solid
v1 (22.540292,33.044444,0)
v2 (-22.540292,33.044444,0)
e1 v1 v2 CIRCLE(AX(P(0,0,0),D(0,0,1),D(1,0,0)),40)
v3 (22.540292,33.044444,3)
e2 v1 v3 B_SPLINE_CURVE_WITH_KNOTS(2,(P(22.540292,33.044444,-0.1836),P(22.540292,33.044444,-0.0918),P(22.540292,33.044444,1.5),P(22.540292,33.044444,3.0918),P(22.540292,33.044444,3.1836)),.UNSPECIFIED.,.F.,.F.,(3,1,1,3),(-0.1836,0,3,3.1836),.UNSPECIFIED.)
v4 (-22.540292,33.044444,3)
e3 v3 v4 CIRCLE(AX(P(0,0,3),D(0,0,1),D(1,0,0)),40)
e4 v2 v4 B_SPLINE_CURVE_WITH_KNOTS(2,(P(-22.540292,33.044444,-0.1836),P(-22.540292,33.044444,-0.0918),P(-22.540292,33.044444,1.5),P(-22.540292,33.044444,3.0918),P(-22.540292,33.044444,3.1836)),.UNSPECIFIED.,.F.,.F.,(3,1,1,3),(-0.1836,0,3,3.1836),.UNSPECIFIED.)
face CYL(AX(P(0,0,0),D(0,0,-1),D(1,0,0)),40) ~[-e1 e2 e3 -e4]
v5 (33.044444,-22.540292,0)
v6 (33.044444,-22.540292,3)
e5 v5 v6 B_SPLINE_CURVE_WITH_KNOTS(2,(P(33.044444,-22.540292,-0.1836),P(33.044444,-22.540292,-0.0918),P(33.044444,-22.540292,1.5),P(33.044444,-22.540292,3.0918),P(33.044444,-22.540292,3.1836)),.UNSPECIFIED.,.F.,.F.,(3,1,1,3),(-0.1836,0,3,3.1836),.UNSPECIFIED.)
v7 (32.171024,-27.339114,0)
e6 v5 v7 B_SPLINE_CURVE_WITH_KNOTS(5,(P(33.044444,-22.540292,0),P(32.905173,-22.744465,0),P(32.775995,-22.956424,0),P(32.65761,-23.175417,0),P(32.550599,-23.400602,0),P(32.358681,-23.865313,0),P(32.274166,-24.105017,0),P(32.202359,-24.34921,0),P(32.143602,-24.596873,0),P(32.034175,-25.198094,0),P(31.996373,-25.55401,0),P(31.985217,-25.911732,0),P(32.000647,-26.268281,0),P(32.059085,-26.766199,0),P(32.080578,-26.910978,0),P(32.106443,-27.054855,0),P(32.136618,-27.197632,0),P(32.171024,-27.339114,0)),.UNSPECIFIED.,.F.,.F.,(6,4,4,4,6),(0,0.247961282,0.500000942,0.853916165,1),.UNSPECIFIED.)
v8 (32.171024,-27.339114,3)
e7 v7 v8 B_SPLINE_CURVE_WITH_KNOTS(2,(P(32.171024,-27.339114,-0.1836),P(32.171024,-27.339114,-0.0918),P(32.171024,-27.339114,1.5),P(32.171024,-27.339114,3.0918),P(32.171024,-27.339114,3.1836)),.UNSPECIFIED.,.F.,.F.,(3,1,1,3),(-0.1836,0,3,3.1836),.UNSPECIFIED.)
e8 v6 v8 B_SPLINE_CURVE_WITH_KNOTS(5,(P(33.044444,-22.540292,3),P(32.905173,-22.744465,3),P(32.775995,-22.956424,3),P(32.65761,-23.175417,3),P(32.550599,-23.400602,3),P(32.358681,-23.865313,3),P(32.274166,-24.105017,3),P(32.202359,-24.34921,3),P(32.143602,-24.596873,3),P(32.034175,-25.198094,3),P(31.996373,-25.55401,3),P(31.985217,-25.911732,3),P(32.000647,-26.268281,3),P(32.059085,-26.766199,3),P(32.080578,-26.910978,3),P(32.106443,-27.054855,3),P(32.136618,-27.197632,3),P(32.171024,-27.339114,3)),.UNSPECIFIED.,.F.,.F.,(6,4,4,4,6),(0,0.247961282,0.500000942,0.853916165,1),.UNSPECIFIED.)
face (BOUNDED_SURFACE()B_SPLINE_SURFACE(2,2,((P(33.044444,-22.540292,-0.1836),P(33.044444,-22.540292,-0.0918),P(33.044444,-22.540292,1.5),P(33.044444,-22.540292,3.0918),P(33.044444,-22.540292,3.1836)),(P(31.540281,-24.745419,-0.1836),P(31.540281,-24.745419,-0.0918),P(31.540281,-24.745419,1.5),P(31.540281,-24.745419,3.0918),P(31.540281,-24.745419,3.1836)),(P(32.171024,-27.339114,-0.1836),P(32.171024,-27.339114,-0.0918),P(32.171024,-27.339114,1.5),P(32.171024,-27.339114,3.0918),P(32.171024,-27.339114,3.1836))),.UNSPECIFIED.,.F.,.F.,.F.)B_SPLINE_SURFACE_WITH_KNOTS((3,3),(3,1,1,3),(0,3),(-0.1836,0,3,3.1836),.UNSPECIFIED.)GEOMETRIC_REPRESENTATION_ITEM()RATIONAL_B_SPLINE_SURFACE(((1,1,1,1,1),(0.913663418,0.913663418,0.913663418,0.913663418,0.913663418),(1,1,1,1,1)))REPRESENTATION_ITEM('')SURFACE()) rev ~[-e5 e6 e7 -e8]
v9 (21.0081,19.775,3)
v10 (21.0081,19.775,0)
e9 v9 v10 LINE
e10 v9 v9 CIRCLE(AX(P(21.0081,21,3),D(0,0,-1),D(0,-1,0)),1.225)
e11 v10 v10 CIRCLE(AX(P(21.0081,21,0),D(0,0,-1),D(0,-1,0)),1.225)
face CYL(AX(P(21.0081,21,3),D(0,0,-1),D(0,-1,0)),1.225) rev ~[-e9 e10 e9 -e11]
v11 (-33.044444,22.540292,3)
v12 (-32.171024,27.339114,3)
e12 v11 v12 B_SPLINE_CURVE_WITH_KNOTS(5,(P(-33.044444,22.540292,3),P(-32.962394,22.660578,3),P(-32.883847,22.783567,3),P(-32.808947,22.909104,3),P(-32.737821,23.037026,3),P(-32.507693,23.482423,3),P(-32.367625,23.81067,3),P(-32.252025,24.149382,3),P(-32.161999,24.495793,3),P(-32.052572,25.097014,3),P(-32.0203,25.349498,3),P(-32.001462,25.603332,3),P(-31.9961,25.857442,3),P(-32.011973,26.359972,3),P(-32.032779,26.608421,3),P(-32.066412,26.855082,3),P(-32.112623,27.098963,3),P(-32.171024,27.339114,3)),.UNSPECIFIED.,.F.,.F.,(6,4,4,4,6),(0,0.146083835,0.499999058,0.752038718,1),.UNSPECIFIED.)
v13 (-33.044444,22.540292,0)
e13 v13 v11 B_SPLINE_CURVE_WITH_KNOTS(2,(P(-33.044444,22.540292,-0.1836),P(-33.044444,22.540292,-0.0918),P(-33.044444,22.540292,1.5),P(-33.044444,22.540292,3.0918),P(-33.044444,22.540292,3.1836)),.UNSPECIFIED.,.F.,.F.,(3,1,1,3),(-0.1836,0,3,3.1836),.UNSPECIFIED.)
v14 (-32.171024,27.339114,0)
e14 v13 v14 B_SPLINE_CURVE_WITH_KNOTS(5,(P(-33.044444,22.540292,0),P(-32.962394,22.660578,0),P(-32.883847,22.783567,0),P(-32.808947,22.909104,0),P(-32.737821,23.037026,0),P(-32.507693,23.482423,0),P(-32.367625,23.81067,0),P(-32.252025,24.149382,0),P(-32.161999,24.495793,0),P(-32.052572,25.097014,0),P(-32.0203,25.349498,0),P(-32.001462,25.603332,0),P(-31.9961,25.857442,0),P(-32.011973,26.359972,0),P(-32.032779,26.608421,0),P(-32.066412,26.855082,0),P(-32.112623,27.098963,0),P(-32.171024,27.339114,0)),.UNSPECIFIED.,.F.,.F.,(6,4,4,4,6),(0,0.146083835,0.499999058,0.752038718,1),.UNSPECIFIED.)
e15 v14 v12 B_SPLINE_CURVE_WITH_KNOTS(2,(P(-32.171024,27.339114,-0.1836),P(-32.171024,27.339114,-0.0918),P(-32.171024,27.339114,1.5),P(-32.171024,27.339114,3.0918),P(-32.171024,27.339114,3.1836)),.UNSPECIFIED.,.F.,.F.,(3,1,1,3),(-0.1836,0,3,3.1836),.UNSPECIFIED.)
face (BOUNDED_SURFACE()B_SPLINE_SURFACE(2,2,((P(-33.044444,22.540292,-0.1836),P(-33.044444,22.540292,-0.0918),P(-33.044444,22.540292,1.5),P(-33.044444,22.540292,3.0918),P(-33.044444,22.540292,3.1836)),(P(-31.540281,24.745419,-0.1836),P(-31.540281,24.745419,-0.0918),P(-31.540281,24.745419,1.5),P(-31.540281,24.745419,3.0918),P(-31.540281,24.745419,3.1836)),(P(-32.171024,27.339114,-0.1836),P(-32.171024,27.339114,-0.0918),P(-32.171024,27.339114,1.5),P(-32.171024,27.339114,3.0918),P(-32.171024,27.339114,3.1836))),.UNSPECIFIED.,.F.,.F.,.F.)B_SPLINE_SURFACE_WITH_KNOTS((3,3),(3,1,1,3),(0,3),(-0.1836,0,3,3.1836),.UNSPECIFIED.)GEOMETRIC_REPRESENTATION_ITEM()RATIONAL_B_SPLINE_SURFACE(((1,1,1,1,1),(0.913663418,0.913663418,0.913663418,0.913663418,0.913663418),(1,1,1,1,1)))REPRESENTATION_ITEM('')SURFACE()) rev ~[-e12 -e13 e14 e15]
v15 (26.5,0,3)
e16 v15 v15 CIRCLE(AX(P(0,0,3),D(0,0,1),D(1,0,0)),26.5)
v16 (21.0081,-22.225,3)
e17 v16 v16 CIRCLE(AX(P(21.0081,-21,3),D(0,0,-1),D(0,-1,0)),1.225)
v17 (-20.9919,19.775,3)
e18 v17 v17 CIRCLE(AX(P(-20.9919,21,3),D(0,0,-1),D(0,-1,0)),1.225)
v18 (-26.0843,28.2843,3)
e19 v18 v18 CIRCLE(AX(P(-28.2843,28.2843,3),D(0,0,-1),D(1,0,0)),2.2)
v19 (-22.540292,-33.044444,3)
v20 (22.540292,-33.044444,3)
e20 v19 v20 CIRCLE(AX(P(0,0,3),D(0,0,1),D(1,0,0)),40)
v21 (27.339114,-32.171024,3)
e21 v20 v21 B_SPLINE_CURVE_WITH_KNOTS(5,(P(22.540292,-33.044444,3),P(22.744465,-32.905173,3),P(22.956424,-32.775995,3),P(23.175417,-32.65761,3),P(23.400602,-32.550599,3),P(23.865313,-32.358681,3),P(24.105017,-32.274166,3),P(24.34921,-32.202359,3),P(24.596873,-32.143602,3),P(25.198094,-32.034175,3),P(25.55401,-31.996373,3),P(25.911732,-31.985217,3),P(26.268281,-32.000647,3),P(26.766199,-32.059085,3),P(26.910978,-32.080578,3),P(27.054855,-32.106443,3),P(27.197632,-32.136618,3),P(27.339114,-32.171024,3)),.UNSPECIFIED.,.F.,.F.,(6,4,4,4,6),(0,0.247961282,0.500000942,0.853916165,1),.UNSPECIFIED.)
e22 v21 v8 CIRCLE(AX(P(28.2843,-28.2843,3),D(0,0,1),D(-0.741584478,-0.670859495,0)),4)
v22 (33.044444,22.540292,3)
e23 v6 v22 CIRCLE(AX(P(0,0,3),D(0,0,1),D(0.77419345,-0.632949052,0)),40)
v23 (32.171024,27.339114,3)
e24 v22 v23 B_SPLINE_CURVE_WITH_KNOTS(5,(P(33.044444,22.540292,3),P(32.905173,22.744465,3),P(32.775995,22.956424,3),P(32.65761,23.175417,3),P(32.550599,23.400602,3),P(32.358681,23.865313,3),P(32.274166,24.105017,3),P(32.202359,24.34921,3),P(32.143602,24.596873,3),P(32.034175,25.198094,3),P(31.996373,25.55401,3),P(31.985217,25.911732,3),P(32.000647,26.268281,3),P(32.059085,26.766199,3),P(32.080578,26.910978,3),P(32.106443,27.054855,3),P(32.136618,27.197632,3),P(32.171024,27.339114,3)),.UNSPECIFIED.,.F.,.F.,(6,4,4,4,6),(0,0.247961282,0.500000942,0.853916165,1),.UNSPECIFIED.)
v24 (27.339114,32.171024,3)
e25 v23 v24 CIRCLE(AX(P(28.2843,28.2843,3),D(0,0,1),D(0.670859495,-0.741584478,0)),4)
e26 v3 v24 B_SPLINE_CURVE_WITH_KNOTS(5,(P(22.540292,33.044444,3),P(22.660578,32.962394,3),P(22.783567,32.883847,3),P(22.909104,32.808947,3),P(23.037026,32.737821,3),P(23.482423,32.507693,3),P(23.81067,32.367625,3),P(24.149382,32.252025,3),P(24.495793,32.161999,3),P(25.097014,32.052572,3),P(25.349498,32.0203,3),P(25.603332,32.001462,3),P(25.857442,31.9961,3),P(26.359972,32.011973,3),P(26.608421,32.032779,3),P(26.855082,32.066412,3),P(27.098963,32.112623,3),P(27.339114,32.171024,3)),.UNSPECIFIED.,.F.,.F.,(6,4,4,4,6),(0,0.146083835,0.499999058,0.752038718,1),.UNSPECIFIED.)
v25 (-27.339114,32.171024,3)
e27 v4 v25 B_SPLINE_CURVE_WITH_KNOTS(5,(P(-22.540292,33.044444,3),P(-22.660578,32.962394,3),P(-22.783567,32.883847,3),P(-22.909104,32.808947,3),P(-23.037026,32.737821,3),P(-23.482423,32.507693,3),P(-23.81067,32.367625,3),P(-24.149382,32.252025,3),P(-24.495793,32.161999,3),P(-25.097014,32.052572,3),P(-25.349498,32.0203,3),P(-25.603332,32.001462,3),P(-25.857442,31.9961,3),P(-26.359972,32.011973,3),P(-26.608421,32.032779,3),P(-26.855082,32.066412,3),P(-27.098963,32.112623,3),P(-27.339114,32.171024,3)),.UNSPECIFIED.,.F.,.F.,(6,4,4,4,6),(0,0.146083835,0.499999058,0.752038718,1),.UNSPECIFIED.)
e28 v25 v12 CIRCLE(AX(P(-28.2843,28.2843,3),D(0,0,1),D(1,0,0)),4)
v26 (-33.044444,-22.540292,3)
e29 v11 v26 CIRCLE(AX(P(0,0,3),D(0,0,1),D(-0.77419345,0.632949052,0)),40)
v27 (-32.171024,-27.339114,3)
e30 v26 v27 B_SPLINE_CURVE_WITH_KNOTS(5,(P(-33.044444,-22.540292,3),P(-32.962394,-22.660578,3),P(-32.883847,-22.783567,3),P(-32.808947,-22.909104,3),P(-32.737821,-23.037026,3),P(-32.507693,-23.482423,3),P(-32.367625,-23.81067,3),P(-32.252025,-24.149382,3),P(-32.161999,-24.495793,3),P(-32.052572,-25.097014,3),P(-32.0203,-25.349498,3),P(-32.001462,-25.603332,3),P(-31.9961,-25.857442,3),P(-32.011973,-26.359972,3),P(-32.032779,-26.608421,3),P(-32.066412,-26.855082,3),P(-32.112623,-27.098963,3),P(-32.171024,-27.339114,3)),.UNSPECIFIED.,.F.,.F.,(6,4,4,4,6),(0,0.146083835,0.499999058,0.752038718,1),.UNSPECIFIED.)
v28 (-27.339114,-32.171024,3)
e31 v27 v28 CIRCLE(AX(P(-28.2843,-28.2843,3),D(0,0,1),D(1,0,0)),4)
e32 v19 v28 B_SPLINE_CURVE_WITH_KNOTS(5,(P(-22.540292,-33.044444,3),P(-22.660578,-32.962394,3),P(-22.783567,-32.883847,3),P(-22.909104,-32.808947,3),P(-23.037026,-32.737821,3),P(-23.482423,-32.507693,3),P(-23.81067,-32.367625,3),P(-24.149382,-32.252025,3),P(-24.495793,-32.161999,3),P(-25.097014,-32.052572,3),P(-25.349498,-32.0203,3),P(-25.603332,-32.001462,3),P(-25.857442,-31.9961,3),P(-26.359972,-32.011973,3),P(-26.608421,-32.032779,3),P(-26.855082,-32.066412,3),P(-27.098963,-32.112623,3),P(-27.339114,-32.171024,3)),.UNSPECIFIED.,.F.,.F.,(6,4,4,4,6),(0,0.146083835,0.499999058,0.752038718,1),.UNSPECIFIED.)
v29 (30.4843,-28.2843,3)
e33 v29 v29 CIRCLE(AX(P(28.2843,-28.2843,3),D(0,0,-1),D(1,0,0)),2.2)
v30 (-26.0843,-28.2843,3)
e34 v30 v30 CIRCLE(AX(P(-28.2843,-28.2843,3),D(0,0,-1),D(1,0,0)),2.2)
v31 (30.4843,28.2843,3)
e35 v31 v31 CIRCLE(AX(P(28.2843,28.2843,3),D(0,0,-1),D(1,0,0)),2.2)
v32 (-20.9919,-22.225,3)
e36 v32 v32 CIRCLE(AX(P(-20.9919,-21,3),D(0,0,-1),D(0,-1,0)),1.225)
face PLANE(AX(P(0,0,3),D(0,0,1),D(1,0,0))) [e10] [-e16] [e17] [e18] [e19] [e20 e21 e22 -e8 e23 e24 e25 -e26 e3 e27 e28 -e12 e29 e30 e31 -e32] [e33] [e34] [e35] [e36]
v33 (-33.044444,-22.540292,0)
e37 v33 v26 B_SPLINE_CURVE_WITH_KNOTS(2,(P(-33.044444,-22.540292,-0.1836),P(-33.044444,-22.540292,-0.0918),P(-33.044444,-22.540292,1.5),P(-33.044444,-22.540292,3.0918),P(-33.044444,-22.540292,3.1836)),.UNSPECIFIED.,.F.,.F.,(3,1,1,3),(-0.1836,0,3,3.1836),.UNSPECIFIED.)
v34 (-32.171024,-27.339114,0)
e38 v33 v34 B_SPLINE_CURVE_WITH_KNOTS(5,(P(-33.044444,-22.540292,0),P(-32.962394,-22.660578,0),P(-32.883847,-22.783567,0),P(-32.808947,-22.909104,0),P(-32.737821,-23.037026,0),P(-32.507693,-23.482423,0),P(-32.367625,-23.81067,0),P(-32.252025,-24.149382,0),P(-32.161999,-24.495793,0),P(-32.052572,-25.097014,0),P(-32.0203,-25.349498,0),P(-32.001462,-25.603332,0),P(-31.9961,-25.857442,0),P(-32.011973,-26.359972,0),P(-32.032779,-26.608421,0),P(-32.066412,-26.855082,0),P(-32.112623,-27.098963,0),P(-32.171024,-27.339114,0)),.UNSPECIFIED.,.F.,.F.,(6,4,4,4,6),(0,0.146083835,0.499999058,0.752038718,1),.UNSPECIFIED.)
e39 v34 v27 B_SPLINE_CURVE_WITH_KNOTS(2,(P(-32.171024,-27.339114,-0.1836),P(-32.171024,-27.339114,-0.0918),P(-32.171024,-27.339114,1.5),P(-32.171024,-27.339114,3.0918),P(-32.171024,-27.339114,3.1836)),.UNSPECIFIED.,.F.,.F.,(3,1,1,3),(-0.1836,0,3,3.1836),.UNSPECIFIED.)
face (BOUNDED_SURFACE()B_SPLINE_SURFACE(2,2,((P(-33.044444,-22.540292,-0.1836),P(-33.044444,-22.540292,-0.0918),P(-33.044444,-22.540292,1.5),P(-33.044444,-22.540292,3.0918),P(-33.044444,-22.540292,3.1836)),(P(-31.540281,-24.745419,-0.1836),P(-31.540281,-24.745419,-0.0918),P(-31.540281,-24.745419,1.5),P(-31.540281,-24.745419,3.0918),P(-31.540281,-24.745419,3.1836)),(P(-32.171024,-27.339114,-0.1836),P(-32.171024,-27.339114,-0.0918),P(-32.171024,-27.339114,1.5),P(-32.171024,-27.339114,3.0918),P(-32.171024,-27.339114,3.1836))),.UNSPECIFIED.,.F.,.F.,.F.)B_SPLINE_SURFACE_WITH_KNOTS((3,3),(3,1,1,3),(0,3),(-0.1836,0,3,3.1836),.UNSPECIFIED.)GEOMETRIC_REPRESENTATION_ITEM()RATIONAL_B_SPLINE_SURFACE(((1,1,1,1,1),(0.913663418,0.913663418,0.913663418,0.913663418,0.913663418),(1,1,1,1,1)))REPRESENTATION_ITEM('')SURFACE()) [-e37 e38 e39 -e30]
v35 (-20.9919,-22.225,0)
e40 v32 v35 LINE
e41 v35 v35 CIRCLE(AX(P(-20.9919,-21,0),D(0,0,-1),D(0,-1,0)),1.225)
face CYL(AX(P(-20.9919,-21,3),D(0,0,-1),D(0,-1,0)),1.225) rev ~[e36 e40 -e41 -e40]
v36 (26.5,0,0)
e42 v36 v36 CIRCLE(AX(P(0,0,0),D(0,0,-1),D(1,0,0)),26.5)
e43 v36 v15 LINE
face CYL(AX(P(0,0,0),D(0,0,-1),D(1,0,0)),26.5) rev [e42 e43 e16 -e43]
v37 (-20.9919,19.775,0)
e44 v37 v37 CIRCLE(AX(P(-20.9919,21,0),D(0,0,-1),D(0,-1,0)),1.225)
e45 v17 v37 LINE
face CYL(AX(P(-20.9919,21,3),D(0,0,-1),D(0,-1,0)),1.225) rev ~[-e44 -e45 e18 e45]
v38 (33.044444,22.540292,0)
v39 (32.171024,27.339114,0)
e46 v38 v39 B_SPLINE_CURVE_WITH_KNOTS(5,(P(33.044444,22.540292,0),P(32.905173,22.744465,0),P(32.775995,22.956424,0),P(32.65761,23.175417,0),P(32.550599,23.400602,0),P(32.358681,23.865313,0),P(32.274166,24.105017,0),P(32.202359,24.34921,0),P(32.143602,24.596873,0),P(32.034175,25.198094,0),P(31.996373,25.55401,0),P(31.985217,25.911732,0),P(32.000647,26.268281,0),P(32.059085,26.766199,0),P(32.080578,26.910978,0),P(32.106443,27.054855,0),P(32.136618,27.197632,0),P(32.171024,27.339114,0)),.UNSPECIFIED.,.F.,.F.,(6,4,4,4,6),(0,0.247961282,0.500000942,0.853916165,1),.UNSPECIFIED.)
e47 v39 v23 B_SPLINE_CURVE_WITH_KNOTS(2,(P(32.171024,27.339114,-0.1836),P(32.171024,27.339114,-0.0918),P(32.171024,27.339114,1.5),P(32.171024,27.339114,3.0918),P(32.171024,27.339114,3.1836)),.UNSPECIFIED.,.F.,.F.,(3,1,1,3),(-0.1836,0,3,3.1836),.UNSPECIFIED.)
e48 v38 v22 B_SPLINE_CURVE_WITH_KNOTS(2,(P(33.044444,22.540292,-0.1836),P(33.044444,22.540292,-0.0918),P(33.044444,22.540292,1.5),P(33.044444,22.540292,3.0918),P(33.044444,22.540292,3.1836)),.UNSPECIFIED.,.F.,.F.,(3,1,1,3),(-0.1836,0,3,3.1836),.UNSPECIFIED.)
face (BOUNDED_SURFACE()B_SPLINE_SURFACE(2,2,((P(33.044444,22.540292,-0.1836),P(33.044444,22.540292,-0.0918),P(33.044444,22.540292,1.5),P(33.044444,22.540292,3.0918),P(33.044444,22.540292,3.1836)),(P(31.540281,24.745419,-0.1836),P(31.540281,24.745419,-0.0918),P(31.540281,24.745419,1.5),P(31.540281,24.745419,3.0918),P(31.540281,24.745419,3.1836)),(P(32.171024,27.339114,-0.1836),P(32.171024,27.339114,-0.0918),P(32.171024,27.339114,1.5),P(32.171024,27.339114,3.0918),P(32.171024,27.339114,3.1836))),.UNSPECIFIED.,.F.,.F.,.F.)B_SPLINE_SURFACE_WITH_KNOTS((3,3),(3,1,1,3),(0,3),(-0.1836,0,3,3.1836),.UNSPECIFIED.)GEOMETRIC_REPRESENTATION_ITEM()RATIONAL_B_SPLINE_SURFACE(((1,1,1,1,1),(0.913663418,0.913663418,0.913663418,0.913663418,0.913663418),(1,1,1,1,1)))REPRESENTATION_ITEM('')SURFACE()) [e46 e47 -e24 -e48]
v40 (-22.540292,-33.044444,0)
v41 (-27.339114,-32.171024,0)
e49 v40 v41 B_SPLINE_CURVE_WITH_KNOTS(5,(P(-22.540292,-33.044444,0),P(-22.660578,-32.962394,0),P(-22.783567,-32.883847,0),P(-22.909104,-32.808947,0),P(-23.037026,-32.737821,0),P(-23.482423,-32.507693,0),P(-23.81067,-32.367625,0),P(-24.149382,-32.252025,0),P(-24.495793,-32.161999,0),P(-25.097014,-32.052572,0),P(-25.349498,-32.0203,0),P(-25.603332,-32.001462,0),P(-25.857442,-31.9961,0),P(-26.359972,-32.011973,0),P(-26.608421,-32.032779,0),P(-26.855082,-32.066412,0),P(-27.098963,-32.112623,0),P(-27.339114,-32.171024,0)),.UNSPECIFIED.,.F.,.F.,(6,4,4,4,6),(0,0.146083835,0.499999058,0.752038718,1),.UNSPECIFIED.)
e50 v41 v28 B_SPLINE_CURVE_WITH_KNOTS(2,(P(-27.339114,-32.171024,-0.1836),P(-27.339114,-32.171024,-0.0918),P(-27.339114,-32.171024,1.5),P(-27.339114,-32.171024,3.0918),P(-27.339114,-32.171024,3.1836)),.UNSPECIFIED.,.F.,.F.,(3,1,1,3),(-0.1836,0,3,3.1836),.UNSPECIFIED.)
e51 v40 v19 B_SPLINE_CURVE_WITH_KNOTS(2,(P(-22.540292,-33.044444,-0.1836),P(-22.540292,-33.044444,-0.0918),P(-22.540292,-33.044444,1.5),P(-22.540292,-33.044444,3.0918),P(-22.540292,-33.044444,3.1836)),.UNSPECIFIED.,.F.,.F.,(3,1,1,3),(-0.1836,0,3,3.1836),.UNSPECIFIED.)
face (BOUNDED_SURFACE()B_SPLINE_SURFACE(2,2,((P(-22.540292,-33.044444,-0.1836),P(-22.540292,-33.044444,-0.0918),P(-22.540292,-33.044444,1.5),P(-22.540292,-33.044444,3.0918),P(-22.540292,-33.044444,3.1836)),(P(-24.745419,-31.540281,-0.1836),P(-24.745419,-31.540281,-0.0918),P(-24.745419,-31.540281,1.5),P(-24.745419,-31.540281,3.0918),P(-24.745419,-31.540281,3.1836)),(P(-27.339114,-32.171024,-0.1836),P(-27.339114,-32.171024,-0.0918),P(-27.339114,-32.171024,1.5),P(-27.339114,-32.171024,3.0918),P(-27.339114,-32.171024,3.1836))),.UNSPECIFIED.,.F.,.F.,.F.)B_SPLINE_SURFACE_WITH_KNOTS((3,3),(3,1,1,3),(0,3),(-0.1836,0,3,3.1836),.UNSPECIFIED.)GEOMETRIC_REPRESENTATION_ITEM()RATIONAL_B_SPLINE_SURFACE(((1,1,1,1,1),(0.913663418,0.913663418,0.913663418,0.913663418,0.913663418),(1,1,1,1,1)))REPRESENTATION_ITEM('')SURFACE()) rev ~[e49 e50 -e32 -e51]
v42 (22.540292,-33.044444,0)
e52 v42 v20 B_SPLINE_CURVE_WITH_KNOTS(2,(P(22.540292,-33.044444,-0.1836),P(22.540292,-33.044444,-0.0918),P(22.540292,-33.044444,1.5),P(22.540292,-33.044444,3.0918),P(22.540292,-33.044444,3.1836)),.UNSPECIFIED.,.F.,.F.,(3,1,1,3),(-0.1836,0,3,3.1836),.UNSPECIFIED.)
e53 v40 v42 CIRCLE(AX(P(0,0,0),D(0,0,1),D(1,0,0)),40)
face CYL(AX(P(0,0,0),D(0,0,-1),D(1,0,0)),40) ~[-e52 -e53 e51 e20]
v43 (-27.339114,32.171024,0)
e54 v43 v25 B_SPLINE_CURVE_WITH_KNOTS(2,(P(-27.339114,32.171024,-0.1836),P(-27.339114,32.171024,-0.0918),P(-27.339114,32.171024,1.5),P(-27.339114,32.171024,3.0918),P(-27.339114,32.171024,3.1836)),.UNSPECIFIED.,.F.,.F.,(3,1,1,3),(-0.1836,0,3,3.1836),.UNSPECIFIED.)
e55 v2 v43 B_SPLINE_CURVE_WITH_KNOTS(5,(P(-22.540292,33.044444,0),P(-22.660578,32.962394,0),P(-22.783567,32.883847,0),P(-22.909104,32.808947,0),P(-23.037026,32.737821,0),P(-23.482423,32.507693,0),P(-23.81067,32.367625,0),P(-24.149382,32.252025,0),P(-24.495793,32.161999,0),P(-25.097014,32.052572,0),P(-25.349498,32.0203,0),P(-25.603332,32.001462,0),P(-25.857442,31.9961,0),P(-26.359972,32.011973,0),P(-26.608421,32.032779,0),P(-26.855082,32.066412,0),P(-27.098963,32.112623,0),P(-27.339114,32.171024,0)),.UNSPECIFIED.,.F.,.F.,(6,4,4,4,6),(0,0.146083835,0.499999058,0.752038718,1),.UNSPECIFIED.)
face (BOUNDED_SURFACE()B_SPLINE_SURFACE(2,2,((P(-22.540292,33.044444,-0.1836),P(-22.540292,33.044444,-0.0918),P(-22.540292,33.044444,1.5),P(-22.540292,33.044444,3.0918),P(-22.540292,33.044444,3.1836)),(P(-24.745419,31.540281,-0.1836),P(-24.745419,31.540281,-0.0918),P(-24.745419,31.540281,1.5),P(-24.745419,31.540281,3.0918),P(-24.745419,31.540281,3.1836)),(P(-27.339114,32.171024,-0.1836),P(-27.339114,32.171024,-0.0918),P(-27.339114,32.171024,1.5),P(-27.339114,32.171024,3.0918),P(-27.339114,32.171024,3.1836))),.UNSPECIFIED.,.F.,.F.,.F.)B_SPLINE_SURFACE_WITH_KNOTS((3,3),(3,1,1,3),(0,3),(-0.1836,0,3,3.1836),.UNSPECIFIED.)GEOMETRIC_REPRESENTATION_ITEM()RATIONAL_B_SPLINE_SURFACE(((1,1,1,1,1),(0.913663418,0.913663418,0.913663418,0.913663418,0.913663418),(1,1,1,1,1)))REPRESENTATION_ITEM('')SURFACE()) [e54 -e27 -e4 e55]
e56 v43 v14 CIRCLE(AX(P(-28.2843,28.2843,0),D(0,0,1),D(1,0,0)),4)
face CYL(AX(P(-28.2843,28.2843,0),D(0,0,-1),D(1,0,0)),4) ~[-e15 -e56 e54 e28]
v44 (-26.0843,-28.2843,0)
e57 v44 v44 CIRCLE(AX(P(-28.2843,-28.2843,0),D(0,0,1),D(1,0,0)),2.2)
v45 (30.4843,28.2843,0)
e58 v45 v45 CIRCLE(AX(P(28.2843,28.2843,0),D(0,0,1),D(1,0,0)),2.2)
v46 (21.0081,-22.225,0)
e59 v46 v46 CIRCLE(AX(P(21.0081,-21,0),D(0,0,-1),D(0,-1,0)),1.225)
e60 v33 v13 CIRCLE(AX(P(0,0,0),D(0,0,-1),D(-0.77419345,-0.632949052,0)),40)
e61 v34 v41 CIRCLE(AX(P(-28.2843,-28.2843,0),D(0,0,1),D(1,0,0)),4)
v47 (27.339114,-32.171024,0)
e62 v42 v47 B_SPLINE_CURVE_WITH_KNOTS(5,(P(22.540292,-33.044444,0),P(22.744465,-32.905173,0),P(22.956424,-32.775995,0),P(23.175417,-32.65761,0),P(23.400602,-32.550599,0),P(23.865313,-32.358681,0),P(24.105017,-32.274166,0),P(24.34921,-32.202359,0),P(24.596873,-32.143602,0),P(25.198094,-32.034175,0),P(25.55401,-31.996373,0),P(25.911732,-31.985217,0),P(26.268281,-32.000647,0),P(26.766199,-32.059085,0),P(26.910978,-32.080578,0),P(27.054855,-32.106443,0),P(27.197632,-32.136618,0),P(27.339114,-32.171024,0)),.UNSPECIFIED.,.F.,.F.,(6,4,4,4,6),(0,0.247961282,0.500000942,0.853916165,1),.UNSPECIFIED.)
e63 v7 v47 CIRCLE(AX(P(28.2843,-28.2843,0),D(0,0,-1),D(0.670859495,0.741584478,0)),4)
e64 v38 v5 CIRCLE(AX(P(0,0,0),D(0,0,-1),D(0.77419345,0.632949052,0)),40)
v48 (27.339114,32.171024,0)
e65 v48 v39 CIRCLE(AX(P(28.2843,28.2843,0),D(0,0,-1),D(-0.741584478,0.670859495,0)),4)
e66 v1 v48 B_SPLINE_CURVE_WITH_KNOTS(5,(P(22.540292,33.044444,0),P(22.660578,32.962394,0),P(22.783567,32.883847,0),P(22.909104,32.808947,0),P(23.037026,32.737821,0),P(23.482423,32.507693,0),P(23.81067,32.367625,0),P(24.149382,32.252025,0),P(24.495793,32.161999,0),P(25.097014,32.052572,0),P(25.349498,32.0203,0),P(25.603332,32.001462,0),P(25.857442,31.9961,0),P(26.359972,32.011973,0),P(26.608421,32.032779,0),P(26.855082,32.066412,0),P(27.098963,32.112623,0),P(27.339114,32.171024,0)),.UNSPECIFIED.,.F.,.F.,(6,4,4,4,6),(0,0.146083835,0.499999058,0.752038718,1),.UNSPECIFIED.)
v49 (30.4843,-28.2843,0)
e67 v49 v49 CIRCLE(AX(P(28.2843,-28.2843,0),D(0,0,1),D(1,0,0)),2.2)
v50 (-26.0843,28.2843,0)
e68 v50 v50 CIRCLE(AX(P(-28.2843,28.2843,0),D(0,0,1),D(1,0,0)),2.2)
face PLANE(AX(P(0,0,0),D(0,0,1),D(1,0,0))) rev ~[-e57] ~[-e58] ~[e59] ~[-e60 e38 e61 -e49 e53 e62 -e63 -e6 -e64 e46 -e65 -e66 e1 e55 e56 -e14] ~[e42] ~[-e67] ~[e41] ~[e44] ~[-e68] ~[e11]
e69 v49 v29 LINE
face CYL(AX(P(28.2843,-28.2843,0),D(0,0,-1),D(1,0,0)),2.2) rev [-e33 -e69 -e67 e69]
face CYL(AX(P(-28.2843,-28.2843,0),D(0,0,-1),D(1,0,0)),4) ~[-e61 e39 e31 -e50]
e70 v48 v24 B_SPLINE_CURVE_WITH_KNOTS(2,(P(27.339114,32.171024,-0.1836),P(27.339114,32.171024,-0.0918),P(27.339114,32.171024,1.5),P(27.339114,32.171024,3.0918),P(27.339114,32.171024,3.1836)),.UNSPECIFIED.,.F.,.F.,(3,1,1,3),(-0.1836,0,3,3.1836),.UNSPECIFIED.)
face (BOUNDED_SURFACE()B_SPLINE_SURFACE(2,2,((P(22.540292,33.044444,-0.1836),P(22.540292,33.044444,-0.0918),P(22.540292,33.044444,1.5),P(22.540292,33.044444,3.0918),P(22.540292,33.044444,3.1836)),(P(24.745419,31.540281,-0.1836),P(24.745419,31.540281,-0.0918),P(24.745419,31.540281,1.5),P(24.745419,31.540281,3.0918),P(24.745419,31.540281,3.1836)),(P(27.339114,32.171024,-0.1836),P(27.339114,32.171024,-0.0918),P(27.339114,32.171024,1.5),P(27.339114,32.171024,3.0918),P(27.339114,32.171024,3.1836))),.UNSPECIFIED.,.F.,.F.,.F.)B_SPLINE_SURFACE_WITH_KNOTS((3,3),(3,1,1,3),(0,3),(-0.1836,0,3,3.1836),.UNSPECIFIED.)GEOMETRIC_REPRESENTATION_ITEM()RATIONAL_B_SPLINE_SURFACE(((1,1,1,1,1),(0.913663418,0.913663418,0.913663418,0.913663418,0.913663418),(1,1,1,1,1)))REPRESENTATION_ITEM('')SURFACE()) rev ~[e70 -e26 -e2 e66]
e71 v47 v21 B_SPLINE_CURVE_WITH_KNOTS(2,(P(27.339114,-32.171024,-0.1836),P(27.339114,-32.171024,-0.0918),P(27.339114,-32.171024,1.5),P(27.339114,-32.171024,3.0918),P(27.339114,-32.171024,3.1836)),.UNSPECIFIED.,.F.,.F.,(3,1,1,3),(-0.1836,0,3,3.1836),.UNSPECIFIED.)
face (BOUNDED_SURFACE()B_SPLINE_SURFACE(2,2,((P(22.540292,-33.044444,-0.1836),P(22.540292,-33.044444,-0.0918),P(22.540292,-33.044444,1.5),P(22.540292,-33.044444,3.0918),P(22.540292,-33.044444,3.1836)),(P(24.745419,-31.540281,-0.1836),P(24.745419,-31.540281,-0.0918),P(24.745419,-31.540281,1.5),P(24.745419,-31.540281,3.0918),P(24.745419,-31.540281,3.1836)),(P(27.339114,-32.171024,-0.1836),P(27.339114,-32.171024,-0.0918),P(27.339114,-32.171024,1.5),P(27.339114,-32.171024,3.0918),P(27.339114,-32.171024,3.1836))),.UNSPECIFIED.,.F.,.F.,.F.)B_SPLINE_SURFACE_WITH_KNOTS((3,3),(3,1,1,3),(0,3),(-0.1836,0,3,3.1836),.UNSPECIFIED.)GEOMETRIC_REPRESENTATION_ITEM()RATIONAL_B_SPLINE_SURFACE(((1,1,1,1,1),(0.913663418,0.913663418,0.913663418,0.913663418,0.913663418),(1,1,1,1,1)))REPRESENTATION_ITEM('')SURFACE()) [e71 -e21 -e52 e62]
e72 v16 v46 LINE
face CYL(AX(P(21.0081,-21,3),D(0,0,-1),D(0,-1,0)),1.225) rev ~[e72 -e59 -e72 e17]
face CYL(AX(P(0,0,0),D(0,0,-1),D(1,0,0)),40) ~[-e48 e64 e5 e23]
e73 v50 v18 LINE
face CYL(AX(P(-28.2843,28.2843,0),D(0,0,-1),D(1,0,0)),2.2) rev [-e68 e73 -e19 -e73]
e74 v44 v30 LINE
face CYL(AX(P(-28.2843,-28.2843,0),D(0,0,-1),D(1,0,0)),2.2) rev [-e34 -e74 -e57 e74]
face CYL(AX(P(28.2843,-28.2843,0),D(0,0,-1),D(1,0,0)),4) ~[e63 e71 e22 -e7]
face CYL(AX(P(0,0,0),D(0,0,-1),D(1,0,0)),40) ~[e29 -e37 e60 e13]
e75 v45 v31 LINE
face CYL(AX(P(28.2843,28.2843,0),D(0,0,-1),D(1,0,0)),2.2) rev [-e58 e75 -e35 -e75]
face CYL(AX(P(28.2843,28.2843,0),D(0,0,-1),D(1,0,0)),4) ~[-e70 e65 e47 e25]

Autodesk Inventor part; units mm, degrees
ref_plane "YZ Plane" through (0, 0, 0) normal (1, 0, 0) x (0, 1, 0)
ref_plane "XZ Plane" through (0, 0, 0) normal (0, 1, 0) x (-1, 0, 0)
ref_plane "XY Plane" through (0, 0, 0) normal (0, 0, 1) x (1, 0, 0)
sketch "Base" plane through (0, 0, 0) normal (0, 0, 1) x (1, 0, 0)
  line L0 (-56, 0) -> (56, 0)
  line L1 (0, -56) -> (0, 56) construction
  circle A0 centre (0, 0) radius 40
  line L2 (0, 0) -> (28.2843, 28.2843) construction
  circle A1 centre (28.2843, 28.2843) radius 2.2
  circle A2 centre (-28.2843, 28.2843) radius 2.2
  circle A3 centre (28.2843, -28.2843) radius 2.2
  circle A4 centre (-28.2843, -28.2843) radius 2.2
  circle A5 centre (28.2843, 28.2843) radius 4
  circle A6 centre (-28.2843, 28.2843) radius 4
  circle A7 centre (28.2843, -28.2843) radius 4
  circle A8 centre (-28.2843, -28.2843) radius 4
  circle A9 centre (0, 0) radius 12.2174 construction
  spline S0 degree 3 number of poles 906
  spline S1 degree 3 number of poles 906
  spline S2 degree 3 number of poles 906
  spline S3 degree 3 number of poles 906
  spline S4 degree 2 number of poles 341
  arc A10 (7.6354, -22.3136) -> (7.8387, -21.1617) centre (9.1457, -21.9862) ccw
  circle A11 centre (0, 0) radius 26.5
  point P0 (0, 0)
  point P1 (25.318, 30.9677)
  point P2 (-25.318, 30.9677)
  point P3 (-30.9677, 25.318)
  point P4 (-40, 0)
  point P5 (40, 0)
  point P6 (30.9677, 25.318)
  point P7 (30.9677, -25.318)
  point P8 (-30.9677, -25.318)
  point P9 (-25.318, -30.9677)
  point P10 (25.318, -30.9677)
  point P11 (-29.7965, 26.6864)
  point P12 (-26.6864, 29.7965)
  point P13 (-26.6864, -29.7965)
  point P14 (-29.7965, -26.6864)
extrude "Plate1" add sketch "Base" along normal blind 3 contours A11 L0 A0 A6 A5 | L0 A0 A7 A8 A11 | A5 A0 A1 | A0 A1 A5 | A7 A0 A3 | A0 A3 A7 | A6 A0 A2 | A0 A2 A6 | A8 A0 A4 | A0 A4 A8
fillet "FilletsFeature" radius 6 8 edges at (-30.9677, 25.318, 1.5) (-30.9677, -25.318, 1.5) (-25.318, -30.9677, 1.5) (25.318, -30.9677, 1.5) (30.9677, -25.318, 1.5) (30.9677, 25.318, 1.5) (25.318, 30.9677, 1.5) (-25.318, 30.9677, 1.5)
sketch "WheelEncoderMount" plane through (0, 0, 3) normal (0, 0, 1) x (1, 0, 0)
  circle A0 centre (-20.9919, -21) radius 1.25 projected
  circle A1 centre (-20.9919, 21) radius 1.25 projected
  circle A2 centre (21.0081, -21) radius 1.25 projected
  circle A3 centre (21.0081, 21) radius 1.25 projected
  circle A4 centre (-20.9919, -21) radius 1.25 projected
  circle A5 centre (-20.9919, 21) radius 1.25 projected
hole "EncoderMountHolesFeature" at (-20.9919, -21, 3) at (-20.9919, 21, 3) at (21.0081, 21, 3) at (21.0081, -21, 3) direction (0, 0, -1) diameter 2.45 end through all
equation "\"d48\" = Thickness"
equation "\"d28\" = Thickness"
equation "\"BendRadius\" = Thickness"
equation "\"BendReliefWidth\" = Thickness"
equation "\"BendReliefDepth\" = 0.5 * Thickness"
equation "\"CornerReliefSize\" = 4 * Thickness"
equation "\"MinimumRemnant\" = 2 * Thickness"
equation "\"TransitionRadius\" = BendRadius"
equation "\"JacobiRadiusSize\" = BendRadius"
equation "\"GapSize\" = Thickness"
equation "\"Thickness\" = 3"
properties part number "CimCoderMount"
